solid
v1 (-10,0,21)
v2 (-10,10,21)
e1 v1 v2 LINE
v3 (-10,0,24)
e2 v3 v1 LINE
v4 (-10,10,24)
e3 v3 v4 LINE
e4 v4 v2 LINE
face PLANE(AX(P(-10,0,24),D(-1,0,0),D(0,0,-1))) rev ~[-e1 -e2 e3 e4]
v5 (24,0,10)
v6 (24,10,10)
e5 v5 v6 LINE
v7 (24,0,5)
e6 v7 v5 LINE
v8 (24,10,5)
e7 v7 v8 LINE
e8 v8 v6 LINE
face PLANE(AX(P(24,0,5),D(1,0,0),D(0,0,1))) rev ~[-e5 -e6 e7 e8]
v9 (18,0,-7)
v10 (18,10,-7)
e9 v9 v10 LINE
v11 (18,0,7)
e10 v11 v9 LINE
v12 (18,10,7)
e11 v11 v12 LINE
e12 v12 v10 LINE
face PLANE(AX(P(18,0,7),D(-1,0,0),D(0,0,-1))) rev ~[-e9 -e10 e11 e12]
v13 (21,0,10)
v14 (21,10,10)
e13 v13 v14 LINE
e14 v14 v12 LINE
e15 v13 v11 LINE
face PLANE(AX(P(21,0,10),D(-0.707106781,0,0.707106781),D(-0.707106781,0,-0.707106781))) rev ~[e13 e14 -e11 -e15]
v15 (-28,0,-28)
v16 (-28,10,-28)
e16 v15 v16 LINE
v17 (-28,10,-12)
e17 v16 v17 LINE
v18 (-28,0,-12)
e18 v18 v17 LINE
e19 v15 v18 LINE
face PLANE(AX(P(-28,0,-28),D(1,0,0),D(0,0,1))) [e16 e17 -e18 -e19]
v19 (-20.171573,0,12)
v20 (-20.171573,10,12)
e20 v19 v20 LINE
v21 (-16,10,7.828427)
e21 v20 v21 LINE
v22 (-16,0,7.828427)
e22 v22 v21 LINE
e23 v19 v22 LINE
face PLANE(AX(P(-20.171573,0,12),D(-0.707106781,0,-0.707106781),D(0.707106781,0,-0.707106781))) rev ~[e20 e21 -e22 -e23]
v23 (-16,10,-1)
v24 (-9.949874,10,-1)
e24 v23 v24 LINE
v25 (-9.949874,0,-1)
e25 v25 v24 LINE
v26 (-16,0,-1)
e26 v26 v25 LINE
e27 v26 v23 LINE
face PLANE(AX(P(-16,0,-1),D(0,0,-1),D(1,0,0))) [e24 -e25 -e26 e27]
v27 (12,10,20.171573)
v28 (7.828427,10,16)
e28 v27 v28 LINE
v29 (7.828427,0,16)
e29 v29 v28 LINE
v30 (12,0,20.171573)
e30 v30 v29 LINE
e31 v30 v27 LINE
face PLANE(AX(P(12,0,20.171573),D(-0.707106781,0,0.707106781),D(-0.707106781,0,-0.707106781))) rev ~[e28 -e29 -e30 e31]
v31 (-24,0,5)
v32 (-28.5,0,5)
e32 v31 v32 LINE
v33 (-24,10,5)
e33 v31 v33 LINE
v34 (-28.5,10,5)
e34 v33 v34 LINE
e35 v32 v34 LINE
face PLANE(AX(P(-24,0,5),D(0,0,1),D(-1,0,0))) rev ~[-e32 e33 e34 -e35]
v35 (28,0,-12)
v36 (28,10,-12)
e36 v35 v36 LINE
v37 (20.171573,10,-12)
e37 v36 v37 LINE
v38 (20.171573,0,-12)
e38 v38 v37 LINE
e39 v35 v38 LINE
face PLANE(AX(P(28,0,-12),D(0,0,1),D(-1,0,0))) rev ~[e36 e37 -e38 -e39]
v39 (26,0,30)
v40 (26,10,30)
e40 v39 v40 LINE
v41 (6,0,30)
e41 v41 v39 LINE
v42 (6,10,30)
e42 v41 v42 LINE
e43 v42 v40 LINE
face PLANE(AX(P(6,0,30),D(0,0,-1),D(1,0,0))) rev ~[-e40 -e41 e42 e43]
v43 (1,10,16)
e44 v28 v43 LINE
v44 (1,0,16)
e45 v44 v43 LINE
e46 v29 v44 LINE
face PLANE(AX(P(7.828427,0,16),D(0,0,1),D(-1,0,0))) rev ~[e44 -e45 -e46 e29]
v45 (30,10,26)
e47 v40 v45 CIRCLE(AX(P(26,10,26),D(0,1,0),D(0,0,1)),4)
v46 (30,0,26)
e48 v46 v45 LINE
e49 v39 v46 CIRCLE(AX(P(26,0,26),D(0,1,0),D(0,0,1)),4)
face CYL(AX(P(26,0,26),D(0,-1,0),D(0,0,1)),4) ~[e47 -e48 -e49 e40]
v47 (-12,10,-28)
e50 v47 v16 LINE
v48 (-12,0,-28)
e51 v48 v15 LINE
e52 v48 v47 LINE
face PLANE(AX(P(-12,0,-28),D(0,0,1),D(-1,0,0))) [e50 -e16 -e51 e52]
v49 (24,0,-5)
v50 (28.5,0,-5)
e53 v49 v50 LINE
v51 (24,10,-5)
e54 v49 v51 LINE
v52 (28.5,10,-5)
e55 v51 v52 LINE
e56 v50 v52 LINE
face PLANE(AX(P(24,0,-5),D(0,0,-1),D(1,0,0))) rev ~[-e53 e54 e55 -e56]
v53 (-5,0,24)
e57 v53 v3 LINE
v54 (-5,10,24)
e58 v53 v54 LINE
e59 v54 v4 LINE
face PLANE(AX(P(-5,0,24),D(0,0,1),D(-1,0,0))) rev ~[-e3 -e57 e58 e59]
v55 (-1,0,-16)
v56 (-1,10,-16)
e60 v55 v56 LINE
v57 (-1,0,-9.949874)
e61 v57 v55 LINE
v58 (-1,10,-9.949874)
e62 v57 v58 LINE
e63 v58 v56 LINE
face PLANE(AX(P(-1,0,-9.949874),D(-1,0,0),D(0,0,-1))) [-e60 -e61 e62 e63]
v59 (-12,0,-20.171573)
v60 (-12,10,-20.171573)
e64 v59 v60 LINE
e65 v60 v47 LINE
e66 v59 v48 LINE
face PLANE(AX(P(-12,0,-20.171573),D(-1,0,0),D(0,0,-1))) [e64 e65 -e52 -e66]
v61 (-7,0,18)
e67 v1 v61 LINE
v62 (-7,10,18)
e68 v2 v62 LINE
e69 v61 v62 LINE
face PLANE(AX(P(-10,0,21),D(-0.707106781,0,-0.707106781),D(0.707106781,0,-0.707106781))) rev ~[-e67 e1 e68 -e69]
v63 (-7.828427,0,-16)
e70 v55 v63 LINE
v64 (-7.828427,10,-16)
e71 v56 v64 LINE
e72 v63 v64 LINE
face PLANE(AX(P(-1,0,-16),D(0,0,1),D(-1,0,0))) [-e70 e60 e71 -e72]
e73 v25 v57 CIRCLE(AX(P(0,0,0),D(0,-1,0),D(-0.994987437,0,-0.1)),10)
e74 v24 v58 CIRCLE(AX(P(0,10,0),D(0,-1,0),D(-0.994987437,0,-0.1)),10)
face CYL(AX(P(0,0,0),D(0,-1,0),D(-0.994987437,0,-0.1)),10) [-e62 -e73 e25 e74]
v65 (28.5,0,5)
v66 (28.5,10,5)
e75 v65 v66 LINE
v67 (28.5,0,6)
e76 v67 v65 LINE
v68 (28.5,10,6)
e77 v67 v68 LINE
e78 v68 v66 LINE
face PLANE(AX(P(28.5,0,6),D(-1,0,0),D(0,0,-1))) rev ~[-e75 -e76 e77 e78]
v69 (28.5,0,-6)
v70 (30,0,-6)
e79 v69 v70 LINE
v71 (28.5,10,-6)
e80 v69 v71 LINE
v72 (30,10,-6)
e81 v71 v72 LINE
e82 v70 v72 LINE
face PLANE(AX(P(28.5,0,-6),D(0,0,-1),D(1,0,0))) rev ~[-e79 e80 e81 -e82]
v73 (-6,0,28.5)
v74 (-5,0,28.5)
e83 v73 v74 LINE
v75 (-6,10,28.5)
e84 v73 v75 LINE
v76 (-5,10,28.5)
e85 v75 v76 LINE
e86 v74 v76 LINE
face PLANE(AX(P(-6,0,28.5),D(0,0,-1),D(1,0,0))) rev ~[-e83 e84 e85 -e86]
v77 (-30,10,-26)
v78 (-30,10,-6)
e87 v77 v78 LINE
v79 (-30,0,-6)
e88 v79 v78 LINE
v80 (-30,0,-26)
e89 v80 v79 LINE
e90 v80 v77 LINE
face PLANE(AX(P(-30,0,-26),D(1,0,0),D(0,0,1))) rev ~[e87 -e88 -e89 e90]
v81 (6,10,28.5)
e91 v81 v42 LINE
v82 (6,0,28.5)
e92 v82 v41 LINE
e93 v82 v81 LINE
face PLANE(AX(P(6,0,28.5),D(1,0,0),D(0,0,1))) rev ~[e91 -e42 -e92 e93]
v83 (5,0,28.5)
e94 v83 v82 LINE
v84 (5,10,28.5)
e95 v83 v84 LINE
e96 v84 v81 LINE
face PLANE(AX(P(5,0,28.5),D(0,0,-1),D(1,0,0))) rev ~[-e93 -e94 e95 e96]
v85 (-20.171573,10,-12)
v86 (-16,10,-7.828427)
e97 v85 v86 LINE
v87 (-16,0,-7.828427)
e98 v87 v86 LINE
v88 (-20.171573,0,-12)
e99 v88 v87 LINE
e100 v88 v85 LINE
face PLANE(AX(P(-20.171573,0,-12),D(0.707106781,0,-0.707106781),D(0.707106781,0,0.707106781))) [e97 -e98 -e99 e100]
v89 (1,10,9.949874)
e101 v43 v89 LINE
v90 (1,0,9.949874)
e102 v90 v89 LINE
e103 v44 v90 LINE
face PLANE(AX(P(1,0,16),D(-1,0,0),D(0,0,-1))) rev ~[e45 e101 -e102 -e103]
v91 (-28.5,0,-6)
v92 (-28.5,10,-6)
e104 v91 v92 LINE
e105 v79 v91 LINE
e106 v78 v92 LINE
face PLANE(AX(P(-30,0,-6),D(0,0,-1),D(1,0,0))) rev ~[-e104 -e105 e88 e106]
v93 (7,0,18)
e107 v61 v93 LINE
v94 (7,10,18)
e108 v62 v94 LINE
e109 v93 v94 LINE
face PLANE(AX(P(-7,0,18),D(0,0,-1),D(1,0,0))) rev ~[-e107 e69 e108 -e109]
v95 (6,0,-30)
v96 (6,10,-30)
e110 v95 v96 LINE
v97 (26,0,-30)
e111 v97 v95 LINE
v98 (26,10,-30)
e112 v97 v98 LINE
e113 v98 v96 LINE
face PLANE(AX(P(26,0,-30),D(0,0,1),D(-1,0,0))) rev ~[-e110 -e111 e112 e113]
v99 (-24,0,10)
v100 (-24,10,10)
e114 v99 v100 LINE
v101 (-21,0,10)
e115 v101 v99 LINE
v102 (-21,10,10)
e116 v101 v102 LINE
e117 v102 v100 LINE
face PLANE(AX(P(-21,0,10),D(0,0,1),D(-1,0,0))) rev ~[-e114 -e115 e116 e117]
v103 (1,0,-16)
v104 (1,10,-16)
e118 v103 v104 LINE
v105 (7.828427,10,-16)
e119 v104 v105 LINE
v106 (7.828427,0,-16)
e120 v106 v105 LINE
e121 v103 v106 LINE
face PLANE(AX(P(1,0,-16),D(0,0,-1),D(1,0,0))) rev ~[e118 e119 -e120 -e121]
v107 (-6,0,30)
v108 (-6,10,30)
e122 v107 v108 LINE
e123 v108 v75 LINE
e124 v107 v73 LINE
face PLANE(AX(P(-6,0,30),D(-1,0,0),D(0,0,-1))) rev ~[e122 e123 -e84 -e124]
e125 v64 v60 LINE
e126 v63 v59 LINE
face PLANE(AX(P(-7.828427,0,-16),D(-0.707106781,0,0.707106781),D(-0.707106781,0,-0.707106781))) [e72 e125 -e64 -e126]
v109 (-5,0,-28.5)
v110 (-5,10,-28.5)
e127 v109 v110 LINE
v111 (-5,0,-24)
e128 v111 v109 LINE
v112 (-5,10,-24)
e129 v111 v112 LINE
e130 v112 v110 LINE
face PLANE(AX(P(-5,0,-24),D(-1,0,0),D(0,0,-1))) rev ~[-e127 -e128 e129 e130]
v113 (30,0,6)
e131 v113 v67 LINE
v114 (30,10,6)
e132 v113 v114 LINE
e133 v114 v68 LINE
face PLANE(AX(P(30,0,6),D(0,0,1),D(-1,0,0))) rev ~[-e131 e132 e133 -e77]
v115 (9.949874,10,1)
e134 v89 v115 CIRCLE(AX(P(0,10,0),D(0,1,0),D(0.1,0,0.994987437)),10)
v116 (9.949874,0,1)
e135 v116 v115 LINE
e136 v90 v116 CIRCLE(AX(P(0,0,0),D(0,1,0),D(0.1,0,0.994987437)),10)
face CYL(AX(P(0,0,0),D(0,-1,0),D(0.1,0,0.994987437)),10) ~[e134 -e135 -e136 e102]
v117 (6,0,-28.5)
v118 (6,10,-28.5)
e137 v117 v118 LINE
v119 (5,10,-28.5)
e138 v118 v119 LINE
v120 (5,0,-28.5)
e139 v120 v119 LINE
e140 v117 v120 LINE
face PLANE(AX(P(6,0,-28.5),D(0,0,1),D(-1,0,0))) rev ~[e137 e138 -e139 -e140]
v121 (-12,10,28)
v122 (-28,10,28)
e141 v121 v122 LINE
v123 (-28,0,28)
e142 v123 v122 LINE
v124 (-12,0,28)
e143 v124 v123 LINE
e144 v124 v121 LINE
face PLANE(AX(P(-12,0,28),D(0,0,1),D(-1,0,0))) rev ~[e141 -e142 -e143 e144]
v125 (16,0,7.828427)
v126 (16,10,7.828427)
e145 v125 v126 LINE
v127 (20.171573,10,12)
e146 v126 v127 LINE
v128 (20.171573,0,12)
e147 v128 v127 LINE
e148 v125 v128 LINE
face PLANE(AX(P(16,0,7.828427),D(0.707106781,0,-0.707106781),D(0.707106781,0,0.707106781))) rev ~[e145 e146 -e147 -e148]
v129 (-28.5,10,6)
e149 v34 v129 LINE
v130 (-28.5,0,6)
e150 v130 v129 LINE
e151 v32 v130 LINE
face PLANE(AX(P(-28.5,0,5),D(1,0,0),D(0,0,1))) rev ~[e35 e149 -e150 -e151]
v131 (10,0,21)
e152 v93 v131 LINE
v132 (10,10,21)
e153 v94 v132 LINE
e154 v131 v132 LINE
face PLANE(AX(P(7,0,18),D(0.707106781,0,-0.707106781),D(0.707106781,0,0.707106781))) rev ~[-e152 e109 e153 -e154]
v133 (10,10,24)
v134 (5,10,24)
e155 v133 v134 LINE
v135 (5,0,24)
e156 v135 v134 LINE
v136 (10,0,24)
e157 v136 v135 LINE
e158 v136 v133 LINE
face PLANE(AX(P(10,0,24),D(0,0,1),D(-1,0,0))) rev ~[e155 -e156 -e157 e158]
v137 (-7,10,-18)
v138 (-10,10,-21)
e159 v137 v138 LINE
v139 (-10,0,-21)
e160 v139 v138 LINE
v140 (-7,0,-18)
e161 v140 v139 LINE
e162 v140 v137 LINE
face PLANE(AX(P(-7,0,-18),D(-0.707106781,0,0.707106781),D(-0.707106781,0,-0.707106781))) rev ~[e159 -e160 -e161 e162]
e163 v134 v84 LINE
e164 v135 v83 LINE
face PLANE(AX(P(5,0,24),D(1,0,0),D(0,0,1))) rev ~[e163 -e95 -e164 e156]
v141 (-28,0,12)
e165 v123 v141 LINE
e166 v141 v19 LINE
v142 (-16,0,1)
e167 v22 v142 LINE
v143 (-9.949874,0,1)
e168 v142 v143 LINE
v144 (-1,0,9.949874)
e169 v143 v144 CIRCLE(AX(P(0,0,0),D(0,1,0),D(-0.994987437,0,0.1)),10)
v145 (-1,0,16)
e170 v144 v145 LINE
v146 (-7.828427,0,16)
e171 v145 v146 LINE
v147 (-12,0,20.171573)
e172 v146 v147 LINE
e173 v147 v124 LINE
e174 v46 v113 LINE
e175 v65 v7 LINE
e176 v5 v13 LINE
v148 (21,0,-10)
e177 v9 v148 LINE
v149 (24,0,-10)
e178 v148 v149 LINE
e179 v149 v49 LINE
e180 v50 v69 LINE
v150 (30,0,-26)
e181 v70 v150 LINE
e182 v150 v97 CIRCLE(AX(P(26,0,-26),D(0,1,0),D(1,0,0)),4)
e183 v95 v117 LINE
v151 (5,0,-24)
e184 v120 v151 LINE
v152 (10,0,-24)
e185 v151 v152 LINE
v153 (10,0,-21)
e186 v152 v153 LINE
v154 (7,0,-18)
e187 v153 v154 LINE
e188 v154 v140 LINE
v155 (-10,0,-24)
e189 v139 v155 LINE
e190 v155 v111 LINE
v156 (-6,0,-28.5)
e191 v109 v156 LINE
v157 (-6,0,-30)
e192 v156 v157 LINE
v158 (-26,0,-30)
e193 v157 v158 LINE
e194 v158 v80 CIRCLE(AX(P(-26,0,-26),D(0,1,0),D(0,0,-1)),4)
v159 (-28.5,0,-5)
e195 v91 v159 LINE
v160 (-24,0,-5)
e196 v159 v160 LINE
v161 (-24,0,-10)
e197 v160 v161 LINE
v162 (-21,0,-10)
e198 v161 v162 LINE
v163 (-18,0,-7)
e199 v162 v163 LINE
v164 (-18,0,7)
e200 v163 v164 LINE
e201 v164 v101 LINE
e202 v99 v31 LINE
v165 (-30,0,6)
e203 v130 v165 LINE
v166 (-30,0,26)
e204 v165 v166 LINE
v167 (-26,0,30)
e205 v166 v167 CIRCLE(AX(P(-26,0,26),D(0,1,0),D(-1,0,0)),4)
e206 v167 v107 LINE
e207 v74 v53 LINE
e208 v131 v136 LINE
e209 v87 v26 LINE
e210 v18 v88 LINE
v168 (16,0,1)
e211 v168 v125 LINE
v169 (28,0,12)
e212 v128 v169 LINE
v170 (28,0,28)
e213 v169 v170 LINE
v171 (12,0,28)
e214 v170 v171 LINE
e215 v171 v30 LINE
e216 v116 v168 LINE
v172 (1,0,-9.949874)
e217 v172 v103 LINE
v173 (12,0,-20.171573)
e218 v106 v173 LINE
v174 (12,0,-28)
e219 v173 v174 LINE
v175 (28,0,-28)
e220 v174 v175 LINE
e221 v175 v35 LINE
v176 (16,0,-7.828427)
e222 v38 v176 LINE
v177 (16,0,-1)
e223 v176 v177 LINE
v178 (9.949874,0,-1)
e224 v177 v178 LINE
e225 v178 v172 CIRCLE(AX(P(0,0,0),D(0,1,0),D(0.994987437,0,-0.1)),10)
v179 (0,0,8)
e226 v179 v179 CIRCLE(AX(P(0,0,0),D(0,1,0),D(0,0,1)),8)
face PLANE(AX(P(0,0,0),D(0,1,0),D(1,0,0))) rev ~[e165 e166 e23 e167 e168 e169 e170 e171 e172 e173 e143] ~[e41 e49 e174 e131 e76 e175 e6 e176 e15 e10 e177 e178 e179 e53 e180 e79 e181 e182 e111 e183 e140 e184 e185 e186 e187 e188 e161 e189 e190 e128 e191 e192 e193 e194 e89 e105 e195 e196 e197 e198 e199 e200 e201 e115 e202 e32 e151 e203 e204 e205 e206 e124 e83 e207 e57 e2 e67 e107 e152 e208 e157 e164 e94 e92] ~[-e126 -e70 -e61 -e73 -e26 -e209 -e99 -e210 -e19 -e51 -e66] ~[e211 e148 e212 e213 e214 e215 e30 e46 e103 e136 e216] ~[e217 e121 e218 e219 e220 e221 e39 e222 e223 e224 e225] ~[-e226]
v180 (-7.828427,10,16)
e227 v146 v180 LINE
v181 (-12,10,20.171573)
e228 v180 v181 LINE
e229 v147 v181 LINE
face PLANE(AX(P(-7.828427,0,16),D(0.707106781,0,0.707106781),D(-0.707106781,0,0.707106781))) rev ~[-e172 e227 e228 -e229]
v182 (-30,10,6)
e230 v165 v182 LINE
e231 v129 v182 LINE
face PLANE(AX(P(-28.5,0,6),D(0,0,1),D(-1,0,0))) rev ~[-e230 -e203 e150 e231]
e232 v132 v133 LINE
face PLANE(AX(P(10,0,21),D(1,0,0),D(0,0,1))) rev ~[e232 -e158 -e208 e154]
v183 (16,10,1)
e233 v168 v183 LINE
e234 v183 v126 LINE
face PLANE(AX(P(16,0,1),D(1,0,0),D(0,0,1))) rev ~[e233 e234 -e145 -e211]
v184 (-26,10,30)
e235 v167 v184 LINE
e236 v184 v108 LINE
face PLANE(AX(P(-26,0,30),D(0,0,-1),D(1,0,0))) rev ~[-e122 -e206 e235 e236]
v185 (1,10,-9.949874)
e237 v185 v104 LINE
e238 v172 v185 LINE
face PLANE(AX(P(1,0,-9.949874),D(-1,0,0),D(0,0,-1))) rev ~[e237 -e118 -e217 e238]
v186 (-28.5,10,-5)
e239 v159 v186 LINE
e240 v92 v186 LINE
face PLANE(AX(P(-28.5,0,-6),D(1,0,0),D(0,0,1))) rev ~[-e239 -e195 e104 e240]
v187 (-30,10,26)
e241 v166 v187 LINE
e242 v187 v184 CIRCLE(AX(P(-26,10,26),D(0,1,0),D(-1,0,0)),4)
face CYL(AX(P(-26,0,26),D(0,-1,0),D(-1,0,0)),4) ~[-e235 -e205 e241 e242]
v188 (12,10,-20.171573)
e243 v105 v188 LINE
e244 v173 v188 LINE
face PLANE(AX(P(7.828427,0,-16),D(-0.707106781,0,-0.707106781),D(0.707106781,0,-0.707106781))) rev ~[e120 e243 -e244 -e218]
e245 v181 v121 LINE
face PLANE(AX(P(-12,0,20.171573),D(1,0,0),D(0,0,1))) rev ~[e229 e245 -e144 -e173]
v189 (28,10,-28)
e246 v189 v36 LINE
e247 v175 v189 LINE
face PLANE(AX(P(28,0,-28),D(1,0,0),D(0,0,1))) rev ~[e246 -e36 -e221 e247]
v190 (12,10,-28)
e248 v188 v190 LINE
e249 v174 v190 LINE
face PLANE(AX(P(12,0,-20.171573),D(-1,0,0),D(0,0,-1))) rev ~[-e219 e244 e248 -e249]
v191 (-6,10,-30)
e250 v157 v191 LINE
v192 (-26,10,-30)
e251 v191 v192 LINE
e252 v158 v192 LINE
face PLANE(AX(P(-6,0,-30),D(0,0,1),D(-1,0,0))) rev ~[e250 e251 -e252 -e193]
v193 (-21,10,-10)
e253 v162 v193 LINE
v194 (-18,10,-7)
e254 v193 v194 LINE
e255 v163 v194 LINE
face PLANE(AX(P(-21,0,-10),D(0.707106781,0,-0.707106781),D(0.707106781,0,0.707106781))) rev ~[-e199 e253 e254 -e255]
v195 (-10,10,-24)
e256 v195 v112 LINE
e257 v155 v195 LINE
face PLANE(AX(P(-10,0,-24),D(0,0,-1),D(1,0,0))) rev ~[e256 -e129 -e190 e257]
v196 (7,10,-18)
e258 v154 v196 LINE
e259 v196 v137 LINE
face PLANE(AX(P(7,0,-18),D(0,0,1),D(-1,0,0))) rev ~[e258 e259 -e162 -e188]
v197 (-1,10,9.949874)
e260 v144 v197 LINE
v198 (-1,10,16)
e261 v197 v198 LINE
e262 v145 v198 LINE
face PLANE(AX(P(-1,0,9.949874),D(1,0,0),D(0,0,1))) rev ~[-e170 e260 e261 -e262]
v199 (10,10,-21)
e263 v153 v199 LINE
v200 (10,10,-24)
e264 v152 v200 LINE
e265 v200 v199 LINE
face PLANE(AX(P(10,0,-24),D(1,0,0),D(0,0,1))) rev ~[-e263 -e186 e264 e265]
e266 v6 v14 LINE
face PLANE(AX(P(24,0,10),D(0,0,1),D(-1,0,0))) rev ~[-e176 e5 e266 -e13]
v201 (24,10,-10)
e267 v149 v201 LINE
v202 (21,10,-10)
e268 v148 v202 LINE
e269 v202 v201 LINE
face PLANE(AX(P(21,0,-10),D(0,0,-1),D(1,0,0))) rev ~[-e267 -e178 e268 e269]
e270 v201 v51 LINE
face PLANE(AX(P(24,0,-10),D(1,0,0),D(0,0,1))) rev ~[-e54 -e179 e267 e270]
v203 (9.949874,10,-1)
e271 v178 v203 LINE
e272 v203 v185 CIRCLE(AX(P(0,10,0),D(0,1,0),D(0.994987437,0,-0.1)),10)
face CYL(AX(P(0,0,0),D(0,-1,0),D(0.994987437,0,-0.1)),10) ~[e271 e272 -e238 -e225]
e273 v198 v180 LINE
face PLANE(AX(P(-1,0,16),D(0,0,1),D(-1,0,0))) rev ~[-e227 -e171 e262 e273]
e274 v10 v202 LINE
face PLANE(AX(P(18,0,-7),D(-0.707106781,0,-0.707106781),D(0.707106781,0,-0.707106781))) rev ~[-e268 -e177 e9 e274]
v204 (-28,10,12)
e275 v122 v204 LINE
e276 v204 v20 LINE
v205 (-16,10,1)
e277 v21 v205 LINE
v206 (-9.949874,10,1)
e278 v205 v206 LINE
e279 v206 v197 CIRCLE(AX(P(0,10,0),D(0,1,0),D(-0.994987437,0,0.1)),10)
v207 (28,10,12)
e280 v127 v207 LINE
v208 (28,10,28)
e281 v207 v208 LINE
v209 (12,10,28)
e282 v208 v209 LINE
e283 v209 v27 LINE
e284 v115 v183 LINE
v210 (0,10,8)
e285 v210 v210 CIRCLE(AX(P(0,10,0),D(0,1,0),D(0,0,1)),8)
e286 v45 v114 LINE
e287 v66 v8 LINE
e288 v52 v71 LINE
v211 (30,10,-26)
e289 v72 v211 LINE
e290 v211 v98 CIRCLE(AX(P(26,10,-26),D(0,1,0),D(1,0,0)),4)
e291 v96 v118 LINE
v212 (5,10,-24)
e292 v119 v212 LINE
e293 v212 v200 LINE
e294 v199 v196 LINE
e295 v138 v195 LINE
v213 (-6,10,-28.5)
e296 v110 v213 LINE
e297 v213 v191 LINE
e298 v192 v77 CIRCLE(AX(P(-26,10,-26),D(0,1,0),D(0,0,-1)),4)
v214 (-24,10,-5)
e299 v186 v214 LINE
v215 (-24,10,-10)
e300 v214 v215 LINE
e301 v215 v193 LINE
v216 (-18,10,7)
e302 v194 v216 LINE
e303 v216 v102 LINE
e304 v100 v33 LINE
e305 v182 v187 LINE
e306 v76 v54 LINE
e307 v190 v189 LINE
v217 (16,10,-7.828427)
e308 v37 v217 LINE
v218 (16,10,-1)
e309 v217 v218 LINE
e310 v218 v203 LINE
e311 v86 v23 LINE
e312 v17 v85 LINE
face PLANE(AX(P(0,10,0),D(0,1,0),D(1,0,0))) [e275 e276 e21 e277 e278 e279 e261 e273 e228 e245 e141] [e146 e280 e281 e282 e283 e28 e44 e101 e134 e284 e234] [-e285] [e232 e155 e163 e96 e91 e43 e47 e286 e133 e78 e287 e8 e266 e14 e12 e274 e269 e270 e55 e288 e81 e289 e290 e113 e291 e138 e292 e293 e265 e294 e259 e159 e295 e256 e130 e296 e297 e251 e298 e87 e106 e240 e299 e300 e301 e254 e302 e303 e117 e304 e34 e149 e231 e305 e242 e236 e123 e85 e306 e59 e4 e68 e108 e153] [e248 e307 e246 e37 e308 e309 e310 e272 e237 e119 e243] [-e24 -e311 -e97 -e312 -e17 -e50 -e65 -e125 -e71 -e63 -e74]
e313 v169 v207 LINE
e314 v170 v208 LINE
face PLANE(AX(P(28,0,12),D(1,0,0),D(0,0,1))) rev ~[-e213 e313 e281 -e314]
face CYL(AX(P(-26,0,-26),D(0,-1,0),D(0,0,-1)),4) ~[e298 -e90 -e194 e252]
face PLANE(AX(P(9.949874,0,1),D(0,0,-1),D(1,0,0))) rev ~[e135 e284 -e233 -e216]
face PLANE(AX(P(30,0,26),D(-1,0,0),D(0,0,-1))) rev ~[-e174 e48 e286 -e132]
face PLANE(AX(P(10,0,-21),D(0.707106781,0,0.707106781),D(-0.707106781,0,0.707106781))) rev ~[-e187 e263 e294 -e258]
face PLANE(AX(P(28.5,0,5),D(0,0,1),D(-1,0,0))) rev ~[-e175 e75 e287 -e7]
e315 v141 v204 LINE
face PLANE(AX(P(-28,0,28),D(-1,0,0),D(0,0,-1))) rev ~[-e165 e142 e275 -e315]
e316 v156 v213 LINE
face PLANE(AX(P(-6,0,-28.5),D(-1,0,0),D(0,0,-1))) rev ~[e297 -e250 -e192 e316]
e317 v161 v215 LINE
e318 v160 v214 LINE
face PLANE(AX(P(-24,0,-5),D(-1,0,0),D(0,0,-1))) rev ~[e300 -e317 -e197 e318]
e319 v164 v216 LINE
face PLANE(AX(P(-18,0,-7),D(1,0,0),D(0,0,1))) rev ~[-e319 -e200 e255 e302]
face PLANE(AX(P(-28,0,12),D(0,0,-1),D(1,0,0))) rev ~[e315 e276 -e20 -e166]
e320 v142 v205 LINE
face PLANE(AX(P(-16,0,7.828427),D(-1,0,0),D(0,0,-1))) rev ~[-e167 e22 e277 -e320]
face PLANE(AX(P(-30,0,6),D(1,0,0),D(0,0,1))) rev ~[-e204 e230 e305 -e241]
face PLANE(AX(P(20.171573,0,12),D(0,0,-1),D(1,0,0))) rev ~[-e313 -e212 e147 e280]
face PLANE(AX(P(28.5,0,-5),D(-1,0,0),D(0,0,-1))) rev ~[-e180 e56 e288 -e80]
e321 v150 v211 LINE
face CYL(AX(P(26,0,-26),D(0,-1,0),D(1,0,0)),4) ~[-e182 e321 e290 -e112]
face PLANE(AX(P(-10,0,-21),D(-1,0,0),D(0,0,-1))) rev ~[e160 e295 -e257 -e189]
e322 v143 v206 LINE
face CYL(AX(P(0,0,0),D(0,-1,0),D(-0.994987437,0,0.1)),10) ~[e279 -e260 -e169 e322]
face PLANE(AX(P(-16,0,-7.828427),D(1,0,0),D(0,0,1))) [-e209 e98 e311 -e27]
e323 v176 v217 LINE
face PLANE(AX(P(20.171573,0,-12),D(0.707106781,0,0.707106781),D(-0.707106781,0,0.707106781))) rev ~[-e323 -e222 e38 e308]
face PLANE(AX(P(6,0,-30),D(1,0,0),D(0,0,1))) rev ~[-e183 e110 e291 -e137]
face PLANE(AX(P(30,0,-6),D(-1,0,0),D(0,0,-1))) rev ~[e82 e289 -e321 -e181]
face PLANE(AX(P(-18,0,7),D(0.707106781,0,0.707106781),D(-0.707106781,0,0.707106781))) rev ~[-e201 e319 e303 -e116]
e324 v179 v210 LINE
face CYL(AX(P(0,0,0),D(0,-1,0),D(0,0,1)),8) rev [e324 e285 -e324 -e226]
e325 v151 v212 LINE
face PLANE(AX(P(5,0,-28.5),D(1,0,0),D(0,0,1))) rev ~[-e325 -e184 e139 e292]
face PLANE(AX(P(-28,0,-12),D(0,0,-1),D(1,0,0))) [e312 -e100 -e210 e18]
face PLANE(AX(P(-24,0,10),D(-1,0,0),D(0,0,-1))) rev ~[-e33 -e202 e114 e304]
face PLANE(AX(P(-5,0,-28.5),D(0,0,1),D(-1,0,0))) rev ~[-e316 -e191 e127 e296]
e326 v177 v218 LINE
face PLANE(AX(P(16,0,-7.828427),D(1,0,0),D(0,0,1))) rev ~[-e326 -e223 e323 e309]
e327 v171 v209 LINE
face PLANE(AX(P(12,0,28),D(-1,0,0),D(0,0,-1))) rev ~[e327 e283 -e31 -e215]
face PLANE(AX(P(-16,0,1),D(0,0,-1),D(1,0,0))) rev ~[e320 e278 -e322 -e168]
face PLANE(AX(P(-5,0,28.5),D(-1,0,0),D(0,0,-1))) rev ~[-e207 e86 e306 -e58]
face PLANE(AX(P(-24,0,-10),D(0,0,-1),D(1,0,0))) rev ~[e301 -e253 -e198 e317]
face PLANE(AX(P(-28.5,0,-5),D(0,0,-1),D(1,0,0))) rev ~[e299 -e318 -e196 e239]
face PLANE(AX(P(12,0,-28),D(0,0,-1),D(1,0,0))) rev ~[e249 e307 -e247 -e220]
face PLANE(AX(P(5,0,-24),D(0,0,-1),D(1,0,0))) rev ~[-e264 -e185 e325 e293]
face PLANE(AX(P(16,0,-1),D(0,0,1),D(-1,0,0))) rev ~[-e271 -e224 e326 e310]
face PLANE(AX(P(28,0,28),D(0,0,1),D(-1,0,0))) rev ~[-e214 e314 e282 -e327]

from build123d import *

# Parameters (mm, degrees)
SKETCH_1_R      = 8
EXTRUDE_1_DEPTH = 10


with BuildPart() as part:
    # 草图1 → 凸台-拉伸1 (new body)
    with BuildSketch(Plane(origin=(0, 0, 0), x_dir=(1, 0, 0), z_dir=(0, 1, 0))):
        with BuildLine():
            Line((-30, 5.999999999), (-28.5, 5.999999999))
            Line((-28.5, 5.999999999), (-28.5, 4.999999999))
            Line((-28.5, 4.999999999), (-24, 4.999999999))
            Line((-24, 4.999999999), (-24, 9.999999999))
            Line((-24, 9.999999999), (-21, 9.999999999))
            Line((-21, 9.999999999), (-18, 6.999999999))
            Line((-18, 6.999999999), (-18, -7.000000001))
            Line((-18, -7.000000001), (-21, -10.000000001))
            Line((-21, -10.000000001), (-24, -10.000000001))
            Line((-24, -10.000000001), (-24, -5.000000001))
            Line((-24, -5.000000001), (-28.5, -5.000000001))
            Line((-28.5, -5.000000001), (-28.5, -6.000000001))
            Line((-28.5, -6.000000001), (-30, -6.000000001))
            Line((-30, -6.000000001), (-30, -26.000000001))
            ThreePointArc((-30, -26.000000001), (-28.828427125, -28.828427126), (-26, -30.000000001))
            Line((-26, -30.000000001), (-6, -30.000000001))
            Line((-6, -30.000000001), (-6, -28.500000001))
            Line((-6, -28.500000001), (-5, -28.500000001))
            Line((-5, -28.500000001), (-5, -24.000000001))
            Line((-5, -24.000000001), (-10, -24.000000001))
            Line((-10, -24.000000001), (-10, -21.000000001))
            Line((-10, -21.000000001), (-7, -18.000000001))
            Line((-7, -18.000000001), (7, -18.000000001))
            Line((7, -18.000000001), (10, -21.000000001))
            Line((10, -21.000000001), (10, -24.000000001))
            Line((10, -24.000000001), (5, -24.000000001))
            Line((5, -24.000000001), (5, -28.500000001))
            Line((5, -28.500000001), (6, -28.500000001))
            Line((6, -28.500000001), (6, -30.000000001))
            Line((6, -30.000000001), (26, -30.000000001))
            ThreePointArc((26, -30.000000001), (28.828427125, -28.828427126), (30, -26.000000001))
            Line((30, -26.000000001), (30, -6.000000001))
            Line((30, -6.000000001), (28.5, -6.000000001))
            Line((28.5, -6.000000001), (28.5, -5.000000001))
            Line((28.5, -5.000000001), (24, -5.000000001))
            Line((24, -5.000000001), (24, -10.000000001))
            Line((24, -10.000000001), (21, -10.000000001))
            Line((21, -10.000000001), (18, -7.000000001))
            Line((18, -7.000000001), (18, 6.999999999))
            Line((18, 6.999999999), (21, 9.999999999))
            Line((21, 9.999999999), (24, 9.999999999))
            Line((24, 9.999999999), (24, 4.999999999))
            Line((24, 4.999999999), (28.5, 4.999999999))
            Line((28.5, 4.999999999), (28.5, 5.999999999))
            Line((28.5, 5.999999999), (30, 5.999999999))
            Line((30, 5.999999999), (30, 25.999999999))
            ThreePointArc((30, 25.999999999), (28.828427125, 28.828427124), (26, 29.999999999))
            Line((26, 29.999999999), (6, 29.999999999))
            Line((6, 29.999999999), (6, 28.499999999))
            Line((6, 28.499999999), (5, 28.499999999))
            Line((5, 28.499999999), (5, 23.999999999))
            Line((5, 23.999999999), (10, 23.999999999))
            Line((10, 23.999999999), (10, 20.999999999))
            Line((10, 20.999999999), (7, 17.999999999))
            Line((7, 17.999999999), (-7, 17.999999999))
            Line((-7, 17.999999999), (-10, 20.999999999))
            Line((-10, 20.999999999), (-10, 23.999999999))
            Line((-10, 23.999999999), (-5, 23.999999999))
            Line((-5, 23.999999999), (-5, 28.499999999))
            Line((-5, 28.499999999), (-6, 28.499999999))
            Line((-6, 28.499999999), (-6, 29.999999999))
            Line((-6, 29.999999999), (-26.000000001, 29.999999999))
            ThreePointArc((-26.000000001, 29.999999999), (-28.828427125, 28.828427123), (-30, 25.999999999))
            Line((-30, 25.999999999), (-30, 5.999999999))
        make_face()
        with Locations(Location((0, 0, 0), (0, 0, 270))):
            Circle(SKETCH_1_R, mode=Mode.SUBTRACT)
        with BuildLine():
            Line((-16, 1), (-9.949874371, 1))
            ThreePointArc((-9.949874371, 1), (-7.071067812, 7.071067811), (-1.000000001, 9.949874371))
            Line((-1.000000001, 9.949874371), (-1.000000001, 16))
            Line((-1.000000001, 16), (-7.828427125, 16))
            Line((-7.828427125, 16), (-12, 20.171572875))
            Line((-12, 20.171572875), (-12, 28))
            Line((-12, 28), (-28, 28))
            Line((-28, 28), (-28, 12))
            Line((-28, 12), (-20.171572875, 12))
            Line((-20.171572875, 12), (-16, 7.828427125))
            Line((-16, 7.828427125), (-16, 1))
        make_face(mode=Mode.SUBTRACT)
        with BuildLine():
            Line((1, 9.949874371), (1, 16))
            Line((1, 16), (7.828427125, 16))
            Line((7.828427125, 16), (12, 20.171572875))
            Line((12, 20.171572875), (12, 28))
            Line((12, 28), (28, 28))
            Line((28, 28), (28, 12.000000001))
            Line((28, 12.000000001), (20.171572875, 12.000000001))
            Line((20.171572875, 12.000000001), (16, 7.828427126))
            Line((16, 7.828427126), (16, 1.000000001))
            Line((16, 1.000000001), (9.949874371, 1.000000001))
            ThreePointArc((9.949874371, 1.000000001), (7.071067811, 7.071067812), (1, 9.949874371))
        make_face(mode=Mode.SUBTRACT)
        with BuildLine():
            Line((9.949874371, -1), (16, -1))
            Line((16, -1), (16, -7.828427125))
            Line((16, -7.828427125), (20.171572875, -12))
            Line((20.171572875, -12), (28.000000001, -12))
            Line((28.000000001, -12), (28.000000001, -28))
            Line((28.000000001, -28), (12.000000001, -28))
            Line((12.000000001, -28), (12.000000001, -20.171572875))
            Line((12.000000001, -20.171572875), (7.828427126, -16))
            Line((7.828427126, -16), (1.000000001, -16))
            Line((1.000000001, -16), (1.000000001, -9.949874371))
            ThreePointArc((1.000000001, -9.949874371), (7.071067812, -7.071067811), (9.949874371, -1))
        make_face(mode=Mode.SUBTRACT)
        with BuildLine():
            Line((-1, -9.949874371), (-1, -16.000000001))
            Line((-1, -16.000000001), (-7.828427125, -16.000000001))
            Line((-7.828427125, -16.000000001), (-12, -20.171572876))
            Line((-12, -20.171572876), (-12, -28.000000001))
            Line((-12, -28.000000001), (-28, -28.000000001))
            Line((-28, -28.000000001), (-28, -12.000000001))
            Line((-28, -12.000000001), (-20.171572875, -12.000000001))
            Line((-20.171572875, -12.000000001), (-16, -7.828427126))
            Line((-16, -7.828427126), (-16, -1.000000001))
            Line((-16, -1.000000001), (-9.949874371, -1.000000001))
            ThreePointArc((-9.949874371, -1.000000001), (-7.071067811, -7.071067812), (-1, -9.949874371))
        make_face(mode=Mode.SUBTRACT)
    extrude(amount=EXTRUDE_1_DEPTH)


solid = part.part
